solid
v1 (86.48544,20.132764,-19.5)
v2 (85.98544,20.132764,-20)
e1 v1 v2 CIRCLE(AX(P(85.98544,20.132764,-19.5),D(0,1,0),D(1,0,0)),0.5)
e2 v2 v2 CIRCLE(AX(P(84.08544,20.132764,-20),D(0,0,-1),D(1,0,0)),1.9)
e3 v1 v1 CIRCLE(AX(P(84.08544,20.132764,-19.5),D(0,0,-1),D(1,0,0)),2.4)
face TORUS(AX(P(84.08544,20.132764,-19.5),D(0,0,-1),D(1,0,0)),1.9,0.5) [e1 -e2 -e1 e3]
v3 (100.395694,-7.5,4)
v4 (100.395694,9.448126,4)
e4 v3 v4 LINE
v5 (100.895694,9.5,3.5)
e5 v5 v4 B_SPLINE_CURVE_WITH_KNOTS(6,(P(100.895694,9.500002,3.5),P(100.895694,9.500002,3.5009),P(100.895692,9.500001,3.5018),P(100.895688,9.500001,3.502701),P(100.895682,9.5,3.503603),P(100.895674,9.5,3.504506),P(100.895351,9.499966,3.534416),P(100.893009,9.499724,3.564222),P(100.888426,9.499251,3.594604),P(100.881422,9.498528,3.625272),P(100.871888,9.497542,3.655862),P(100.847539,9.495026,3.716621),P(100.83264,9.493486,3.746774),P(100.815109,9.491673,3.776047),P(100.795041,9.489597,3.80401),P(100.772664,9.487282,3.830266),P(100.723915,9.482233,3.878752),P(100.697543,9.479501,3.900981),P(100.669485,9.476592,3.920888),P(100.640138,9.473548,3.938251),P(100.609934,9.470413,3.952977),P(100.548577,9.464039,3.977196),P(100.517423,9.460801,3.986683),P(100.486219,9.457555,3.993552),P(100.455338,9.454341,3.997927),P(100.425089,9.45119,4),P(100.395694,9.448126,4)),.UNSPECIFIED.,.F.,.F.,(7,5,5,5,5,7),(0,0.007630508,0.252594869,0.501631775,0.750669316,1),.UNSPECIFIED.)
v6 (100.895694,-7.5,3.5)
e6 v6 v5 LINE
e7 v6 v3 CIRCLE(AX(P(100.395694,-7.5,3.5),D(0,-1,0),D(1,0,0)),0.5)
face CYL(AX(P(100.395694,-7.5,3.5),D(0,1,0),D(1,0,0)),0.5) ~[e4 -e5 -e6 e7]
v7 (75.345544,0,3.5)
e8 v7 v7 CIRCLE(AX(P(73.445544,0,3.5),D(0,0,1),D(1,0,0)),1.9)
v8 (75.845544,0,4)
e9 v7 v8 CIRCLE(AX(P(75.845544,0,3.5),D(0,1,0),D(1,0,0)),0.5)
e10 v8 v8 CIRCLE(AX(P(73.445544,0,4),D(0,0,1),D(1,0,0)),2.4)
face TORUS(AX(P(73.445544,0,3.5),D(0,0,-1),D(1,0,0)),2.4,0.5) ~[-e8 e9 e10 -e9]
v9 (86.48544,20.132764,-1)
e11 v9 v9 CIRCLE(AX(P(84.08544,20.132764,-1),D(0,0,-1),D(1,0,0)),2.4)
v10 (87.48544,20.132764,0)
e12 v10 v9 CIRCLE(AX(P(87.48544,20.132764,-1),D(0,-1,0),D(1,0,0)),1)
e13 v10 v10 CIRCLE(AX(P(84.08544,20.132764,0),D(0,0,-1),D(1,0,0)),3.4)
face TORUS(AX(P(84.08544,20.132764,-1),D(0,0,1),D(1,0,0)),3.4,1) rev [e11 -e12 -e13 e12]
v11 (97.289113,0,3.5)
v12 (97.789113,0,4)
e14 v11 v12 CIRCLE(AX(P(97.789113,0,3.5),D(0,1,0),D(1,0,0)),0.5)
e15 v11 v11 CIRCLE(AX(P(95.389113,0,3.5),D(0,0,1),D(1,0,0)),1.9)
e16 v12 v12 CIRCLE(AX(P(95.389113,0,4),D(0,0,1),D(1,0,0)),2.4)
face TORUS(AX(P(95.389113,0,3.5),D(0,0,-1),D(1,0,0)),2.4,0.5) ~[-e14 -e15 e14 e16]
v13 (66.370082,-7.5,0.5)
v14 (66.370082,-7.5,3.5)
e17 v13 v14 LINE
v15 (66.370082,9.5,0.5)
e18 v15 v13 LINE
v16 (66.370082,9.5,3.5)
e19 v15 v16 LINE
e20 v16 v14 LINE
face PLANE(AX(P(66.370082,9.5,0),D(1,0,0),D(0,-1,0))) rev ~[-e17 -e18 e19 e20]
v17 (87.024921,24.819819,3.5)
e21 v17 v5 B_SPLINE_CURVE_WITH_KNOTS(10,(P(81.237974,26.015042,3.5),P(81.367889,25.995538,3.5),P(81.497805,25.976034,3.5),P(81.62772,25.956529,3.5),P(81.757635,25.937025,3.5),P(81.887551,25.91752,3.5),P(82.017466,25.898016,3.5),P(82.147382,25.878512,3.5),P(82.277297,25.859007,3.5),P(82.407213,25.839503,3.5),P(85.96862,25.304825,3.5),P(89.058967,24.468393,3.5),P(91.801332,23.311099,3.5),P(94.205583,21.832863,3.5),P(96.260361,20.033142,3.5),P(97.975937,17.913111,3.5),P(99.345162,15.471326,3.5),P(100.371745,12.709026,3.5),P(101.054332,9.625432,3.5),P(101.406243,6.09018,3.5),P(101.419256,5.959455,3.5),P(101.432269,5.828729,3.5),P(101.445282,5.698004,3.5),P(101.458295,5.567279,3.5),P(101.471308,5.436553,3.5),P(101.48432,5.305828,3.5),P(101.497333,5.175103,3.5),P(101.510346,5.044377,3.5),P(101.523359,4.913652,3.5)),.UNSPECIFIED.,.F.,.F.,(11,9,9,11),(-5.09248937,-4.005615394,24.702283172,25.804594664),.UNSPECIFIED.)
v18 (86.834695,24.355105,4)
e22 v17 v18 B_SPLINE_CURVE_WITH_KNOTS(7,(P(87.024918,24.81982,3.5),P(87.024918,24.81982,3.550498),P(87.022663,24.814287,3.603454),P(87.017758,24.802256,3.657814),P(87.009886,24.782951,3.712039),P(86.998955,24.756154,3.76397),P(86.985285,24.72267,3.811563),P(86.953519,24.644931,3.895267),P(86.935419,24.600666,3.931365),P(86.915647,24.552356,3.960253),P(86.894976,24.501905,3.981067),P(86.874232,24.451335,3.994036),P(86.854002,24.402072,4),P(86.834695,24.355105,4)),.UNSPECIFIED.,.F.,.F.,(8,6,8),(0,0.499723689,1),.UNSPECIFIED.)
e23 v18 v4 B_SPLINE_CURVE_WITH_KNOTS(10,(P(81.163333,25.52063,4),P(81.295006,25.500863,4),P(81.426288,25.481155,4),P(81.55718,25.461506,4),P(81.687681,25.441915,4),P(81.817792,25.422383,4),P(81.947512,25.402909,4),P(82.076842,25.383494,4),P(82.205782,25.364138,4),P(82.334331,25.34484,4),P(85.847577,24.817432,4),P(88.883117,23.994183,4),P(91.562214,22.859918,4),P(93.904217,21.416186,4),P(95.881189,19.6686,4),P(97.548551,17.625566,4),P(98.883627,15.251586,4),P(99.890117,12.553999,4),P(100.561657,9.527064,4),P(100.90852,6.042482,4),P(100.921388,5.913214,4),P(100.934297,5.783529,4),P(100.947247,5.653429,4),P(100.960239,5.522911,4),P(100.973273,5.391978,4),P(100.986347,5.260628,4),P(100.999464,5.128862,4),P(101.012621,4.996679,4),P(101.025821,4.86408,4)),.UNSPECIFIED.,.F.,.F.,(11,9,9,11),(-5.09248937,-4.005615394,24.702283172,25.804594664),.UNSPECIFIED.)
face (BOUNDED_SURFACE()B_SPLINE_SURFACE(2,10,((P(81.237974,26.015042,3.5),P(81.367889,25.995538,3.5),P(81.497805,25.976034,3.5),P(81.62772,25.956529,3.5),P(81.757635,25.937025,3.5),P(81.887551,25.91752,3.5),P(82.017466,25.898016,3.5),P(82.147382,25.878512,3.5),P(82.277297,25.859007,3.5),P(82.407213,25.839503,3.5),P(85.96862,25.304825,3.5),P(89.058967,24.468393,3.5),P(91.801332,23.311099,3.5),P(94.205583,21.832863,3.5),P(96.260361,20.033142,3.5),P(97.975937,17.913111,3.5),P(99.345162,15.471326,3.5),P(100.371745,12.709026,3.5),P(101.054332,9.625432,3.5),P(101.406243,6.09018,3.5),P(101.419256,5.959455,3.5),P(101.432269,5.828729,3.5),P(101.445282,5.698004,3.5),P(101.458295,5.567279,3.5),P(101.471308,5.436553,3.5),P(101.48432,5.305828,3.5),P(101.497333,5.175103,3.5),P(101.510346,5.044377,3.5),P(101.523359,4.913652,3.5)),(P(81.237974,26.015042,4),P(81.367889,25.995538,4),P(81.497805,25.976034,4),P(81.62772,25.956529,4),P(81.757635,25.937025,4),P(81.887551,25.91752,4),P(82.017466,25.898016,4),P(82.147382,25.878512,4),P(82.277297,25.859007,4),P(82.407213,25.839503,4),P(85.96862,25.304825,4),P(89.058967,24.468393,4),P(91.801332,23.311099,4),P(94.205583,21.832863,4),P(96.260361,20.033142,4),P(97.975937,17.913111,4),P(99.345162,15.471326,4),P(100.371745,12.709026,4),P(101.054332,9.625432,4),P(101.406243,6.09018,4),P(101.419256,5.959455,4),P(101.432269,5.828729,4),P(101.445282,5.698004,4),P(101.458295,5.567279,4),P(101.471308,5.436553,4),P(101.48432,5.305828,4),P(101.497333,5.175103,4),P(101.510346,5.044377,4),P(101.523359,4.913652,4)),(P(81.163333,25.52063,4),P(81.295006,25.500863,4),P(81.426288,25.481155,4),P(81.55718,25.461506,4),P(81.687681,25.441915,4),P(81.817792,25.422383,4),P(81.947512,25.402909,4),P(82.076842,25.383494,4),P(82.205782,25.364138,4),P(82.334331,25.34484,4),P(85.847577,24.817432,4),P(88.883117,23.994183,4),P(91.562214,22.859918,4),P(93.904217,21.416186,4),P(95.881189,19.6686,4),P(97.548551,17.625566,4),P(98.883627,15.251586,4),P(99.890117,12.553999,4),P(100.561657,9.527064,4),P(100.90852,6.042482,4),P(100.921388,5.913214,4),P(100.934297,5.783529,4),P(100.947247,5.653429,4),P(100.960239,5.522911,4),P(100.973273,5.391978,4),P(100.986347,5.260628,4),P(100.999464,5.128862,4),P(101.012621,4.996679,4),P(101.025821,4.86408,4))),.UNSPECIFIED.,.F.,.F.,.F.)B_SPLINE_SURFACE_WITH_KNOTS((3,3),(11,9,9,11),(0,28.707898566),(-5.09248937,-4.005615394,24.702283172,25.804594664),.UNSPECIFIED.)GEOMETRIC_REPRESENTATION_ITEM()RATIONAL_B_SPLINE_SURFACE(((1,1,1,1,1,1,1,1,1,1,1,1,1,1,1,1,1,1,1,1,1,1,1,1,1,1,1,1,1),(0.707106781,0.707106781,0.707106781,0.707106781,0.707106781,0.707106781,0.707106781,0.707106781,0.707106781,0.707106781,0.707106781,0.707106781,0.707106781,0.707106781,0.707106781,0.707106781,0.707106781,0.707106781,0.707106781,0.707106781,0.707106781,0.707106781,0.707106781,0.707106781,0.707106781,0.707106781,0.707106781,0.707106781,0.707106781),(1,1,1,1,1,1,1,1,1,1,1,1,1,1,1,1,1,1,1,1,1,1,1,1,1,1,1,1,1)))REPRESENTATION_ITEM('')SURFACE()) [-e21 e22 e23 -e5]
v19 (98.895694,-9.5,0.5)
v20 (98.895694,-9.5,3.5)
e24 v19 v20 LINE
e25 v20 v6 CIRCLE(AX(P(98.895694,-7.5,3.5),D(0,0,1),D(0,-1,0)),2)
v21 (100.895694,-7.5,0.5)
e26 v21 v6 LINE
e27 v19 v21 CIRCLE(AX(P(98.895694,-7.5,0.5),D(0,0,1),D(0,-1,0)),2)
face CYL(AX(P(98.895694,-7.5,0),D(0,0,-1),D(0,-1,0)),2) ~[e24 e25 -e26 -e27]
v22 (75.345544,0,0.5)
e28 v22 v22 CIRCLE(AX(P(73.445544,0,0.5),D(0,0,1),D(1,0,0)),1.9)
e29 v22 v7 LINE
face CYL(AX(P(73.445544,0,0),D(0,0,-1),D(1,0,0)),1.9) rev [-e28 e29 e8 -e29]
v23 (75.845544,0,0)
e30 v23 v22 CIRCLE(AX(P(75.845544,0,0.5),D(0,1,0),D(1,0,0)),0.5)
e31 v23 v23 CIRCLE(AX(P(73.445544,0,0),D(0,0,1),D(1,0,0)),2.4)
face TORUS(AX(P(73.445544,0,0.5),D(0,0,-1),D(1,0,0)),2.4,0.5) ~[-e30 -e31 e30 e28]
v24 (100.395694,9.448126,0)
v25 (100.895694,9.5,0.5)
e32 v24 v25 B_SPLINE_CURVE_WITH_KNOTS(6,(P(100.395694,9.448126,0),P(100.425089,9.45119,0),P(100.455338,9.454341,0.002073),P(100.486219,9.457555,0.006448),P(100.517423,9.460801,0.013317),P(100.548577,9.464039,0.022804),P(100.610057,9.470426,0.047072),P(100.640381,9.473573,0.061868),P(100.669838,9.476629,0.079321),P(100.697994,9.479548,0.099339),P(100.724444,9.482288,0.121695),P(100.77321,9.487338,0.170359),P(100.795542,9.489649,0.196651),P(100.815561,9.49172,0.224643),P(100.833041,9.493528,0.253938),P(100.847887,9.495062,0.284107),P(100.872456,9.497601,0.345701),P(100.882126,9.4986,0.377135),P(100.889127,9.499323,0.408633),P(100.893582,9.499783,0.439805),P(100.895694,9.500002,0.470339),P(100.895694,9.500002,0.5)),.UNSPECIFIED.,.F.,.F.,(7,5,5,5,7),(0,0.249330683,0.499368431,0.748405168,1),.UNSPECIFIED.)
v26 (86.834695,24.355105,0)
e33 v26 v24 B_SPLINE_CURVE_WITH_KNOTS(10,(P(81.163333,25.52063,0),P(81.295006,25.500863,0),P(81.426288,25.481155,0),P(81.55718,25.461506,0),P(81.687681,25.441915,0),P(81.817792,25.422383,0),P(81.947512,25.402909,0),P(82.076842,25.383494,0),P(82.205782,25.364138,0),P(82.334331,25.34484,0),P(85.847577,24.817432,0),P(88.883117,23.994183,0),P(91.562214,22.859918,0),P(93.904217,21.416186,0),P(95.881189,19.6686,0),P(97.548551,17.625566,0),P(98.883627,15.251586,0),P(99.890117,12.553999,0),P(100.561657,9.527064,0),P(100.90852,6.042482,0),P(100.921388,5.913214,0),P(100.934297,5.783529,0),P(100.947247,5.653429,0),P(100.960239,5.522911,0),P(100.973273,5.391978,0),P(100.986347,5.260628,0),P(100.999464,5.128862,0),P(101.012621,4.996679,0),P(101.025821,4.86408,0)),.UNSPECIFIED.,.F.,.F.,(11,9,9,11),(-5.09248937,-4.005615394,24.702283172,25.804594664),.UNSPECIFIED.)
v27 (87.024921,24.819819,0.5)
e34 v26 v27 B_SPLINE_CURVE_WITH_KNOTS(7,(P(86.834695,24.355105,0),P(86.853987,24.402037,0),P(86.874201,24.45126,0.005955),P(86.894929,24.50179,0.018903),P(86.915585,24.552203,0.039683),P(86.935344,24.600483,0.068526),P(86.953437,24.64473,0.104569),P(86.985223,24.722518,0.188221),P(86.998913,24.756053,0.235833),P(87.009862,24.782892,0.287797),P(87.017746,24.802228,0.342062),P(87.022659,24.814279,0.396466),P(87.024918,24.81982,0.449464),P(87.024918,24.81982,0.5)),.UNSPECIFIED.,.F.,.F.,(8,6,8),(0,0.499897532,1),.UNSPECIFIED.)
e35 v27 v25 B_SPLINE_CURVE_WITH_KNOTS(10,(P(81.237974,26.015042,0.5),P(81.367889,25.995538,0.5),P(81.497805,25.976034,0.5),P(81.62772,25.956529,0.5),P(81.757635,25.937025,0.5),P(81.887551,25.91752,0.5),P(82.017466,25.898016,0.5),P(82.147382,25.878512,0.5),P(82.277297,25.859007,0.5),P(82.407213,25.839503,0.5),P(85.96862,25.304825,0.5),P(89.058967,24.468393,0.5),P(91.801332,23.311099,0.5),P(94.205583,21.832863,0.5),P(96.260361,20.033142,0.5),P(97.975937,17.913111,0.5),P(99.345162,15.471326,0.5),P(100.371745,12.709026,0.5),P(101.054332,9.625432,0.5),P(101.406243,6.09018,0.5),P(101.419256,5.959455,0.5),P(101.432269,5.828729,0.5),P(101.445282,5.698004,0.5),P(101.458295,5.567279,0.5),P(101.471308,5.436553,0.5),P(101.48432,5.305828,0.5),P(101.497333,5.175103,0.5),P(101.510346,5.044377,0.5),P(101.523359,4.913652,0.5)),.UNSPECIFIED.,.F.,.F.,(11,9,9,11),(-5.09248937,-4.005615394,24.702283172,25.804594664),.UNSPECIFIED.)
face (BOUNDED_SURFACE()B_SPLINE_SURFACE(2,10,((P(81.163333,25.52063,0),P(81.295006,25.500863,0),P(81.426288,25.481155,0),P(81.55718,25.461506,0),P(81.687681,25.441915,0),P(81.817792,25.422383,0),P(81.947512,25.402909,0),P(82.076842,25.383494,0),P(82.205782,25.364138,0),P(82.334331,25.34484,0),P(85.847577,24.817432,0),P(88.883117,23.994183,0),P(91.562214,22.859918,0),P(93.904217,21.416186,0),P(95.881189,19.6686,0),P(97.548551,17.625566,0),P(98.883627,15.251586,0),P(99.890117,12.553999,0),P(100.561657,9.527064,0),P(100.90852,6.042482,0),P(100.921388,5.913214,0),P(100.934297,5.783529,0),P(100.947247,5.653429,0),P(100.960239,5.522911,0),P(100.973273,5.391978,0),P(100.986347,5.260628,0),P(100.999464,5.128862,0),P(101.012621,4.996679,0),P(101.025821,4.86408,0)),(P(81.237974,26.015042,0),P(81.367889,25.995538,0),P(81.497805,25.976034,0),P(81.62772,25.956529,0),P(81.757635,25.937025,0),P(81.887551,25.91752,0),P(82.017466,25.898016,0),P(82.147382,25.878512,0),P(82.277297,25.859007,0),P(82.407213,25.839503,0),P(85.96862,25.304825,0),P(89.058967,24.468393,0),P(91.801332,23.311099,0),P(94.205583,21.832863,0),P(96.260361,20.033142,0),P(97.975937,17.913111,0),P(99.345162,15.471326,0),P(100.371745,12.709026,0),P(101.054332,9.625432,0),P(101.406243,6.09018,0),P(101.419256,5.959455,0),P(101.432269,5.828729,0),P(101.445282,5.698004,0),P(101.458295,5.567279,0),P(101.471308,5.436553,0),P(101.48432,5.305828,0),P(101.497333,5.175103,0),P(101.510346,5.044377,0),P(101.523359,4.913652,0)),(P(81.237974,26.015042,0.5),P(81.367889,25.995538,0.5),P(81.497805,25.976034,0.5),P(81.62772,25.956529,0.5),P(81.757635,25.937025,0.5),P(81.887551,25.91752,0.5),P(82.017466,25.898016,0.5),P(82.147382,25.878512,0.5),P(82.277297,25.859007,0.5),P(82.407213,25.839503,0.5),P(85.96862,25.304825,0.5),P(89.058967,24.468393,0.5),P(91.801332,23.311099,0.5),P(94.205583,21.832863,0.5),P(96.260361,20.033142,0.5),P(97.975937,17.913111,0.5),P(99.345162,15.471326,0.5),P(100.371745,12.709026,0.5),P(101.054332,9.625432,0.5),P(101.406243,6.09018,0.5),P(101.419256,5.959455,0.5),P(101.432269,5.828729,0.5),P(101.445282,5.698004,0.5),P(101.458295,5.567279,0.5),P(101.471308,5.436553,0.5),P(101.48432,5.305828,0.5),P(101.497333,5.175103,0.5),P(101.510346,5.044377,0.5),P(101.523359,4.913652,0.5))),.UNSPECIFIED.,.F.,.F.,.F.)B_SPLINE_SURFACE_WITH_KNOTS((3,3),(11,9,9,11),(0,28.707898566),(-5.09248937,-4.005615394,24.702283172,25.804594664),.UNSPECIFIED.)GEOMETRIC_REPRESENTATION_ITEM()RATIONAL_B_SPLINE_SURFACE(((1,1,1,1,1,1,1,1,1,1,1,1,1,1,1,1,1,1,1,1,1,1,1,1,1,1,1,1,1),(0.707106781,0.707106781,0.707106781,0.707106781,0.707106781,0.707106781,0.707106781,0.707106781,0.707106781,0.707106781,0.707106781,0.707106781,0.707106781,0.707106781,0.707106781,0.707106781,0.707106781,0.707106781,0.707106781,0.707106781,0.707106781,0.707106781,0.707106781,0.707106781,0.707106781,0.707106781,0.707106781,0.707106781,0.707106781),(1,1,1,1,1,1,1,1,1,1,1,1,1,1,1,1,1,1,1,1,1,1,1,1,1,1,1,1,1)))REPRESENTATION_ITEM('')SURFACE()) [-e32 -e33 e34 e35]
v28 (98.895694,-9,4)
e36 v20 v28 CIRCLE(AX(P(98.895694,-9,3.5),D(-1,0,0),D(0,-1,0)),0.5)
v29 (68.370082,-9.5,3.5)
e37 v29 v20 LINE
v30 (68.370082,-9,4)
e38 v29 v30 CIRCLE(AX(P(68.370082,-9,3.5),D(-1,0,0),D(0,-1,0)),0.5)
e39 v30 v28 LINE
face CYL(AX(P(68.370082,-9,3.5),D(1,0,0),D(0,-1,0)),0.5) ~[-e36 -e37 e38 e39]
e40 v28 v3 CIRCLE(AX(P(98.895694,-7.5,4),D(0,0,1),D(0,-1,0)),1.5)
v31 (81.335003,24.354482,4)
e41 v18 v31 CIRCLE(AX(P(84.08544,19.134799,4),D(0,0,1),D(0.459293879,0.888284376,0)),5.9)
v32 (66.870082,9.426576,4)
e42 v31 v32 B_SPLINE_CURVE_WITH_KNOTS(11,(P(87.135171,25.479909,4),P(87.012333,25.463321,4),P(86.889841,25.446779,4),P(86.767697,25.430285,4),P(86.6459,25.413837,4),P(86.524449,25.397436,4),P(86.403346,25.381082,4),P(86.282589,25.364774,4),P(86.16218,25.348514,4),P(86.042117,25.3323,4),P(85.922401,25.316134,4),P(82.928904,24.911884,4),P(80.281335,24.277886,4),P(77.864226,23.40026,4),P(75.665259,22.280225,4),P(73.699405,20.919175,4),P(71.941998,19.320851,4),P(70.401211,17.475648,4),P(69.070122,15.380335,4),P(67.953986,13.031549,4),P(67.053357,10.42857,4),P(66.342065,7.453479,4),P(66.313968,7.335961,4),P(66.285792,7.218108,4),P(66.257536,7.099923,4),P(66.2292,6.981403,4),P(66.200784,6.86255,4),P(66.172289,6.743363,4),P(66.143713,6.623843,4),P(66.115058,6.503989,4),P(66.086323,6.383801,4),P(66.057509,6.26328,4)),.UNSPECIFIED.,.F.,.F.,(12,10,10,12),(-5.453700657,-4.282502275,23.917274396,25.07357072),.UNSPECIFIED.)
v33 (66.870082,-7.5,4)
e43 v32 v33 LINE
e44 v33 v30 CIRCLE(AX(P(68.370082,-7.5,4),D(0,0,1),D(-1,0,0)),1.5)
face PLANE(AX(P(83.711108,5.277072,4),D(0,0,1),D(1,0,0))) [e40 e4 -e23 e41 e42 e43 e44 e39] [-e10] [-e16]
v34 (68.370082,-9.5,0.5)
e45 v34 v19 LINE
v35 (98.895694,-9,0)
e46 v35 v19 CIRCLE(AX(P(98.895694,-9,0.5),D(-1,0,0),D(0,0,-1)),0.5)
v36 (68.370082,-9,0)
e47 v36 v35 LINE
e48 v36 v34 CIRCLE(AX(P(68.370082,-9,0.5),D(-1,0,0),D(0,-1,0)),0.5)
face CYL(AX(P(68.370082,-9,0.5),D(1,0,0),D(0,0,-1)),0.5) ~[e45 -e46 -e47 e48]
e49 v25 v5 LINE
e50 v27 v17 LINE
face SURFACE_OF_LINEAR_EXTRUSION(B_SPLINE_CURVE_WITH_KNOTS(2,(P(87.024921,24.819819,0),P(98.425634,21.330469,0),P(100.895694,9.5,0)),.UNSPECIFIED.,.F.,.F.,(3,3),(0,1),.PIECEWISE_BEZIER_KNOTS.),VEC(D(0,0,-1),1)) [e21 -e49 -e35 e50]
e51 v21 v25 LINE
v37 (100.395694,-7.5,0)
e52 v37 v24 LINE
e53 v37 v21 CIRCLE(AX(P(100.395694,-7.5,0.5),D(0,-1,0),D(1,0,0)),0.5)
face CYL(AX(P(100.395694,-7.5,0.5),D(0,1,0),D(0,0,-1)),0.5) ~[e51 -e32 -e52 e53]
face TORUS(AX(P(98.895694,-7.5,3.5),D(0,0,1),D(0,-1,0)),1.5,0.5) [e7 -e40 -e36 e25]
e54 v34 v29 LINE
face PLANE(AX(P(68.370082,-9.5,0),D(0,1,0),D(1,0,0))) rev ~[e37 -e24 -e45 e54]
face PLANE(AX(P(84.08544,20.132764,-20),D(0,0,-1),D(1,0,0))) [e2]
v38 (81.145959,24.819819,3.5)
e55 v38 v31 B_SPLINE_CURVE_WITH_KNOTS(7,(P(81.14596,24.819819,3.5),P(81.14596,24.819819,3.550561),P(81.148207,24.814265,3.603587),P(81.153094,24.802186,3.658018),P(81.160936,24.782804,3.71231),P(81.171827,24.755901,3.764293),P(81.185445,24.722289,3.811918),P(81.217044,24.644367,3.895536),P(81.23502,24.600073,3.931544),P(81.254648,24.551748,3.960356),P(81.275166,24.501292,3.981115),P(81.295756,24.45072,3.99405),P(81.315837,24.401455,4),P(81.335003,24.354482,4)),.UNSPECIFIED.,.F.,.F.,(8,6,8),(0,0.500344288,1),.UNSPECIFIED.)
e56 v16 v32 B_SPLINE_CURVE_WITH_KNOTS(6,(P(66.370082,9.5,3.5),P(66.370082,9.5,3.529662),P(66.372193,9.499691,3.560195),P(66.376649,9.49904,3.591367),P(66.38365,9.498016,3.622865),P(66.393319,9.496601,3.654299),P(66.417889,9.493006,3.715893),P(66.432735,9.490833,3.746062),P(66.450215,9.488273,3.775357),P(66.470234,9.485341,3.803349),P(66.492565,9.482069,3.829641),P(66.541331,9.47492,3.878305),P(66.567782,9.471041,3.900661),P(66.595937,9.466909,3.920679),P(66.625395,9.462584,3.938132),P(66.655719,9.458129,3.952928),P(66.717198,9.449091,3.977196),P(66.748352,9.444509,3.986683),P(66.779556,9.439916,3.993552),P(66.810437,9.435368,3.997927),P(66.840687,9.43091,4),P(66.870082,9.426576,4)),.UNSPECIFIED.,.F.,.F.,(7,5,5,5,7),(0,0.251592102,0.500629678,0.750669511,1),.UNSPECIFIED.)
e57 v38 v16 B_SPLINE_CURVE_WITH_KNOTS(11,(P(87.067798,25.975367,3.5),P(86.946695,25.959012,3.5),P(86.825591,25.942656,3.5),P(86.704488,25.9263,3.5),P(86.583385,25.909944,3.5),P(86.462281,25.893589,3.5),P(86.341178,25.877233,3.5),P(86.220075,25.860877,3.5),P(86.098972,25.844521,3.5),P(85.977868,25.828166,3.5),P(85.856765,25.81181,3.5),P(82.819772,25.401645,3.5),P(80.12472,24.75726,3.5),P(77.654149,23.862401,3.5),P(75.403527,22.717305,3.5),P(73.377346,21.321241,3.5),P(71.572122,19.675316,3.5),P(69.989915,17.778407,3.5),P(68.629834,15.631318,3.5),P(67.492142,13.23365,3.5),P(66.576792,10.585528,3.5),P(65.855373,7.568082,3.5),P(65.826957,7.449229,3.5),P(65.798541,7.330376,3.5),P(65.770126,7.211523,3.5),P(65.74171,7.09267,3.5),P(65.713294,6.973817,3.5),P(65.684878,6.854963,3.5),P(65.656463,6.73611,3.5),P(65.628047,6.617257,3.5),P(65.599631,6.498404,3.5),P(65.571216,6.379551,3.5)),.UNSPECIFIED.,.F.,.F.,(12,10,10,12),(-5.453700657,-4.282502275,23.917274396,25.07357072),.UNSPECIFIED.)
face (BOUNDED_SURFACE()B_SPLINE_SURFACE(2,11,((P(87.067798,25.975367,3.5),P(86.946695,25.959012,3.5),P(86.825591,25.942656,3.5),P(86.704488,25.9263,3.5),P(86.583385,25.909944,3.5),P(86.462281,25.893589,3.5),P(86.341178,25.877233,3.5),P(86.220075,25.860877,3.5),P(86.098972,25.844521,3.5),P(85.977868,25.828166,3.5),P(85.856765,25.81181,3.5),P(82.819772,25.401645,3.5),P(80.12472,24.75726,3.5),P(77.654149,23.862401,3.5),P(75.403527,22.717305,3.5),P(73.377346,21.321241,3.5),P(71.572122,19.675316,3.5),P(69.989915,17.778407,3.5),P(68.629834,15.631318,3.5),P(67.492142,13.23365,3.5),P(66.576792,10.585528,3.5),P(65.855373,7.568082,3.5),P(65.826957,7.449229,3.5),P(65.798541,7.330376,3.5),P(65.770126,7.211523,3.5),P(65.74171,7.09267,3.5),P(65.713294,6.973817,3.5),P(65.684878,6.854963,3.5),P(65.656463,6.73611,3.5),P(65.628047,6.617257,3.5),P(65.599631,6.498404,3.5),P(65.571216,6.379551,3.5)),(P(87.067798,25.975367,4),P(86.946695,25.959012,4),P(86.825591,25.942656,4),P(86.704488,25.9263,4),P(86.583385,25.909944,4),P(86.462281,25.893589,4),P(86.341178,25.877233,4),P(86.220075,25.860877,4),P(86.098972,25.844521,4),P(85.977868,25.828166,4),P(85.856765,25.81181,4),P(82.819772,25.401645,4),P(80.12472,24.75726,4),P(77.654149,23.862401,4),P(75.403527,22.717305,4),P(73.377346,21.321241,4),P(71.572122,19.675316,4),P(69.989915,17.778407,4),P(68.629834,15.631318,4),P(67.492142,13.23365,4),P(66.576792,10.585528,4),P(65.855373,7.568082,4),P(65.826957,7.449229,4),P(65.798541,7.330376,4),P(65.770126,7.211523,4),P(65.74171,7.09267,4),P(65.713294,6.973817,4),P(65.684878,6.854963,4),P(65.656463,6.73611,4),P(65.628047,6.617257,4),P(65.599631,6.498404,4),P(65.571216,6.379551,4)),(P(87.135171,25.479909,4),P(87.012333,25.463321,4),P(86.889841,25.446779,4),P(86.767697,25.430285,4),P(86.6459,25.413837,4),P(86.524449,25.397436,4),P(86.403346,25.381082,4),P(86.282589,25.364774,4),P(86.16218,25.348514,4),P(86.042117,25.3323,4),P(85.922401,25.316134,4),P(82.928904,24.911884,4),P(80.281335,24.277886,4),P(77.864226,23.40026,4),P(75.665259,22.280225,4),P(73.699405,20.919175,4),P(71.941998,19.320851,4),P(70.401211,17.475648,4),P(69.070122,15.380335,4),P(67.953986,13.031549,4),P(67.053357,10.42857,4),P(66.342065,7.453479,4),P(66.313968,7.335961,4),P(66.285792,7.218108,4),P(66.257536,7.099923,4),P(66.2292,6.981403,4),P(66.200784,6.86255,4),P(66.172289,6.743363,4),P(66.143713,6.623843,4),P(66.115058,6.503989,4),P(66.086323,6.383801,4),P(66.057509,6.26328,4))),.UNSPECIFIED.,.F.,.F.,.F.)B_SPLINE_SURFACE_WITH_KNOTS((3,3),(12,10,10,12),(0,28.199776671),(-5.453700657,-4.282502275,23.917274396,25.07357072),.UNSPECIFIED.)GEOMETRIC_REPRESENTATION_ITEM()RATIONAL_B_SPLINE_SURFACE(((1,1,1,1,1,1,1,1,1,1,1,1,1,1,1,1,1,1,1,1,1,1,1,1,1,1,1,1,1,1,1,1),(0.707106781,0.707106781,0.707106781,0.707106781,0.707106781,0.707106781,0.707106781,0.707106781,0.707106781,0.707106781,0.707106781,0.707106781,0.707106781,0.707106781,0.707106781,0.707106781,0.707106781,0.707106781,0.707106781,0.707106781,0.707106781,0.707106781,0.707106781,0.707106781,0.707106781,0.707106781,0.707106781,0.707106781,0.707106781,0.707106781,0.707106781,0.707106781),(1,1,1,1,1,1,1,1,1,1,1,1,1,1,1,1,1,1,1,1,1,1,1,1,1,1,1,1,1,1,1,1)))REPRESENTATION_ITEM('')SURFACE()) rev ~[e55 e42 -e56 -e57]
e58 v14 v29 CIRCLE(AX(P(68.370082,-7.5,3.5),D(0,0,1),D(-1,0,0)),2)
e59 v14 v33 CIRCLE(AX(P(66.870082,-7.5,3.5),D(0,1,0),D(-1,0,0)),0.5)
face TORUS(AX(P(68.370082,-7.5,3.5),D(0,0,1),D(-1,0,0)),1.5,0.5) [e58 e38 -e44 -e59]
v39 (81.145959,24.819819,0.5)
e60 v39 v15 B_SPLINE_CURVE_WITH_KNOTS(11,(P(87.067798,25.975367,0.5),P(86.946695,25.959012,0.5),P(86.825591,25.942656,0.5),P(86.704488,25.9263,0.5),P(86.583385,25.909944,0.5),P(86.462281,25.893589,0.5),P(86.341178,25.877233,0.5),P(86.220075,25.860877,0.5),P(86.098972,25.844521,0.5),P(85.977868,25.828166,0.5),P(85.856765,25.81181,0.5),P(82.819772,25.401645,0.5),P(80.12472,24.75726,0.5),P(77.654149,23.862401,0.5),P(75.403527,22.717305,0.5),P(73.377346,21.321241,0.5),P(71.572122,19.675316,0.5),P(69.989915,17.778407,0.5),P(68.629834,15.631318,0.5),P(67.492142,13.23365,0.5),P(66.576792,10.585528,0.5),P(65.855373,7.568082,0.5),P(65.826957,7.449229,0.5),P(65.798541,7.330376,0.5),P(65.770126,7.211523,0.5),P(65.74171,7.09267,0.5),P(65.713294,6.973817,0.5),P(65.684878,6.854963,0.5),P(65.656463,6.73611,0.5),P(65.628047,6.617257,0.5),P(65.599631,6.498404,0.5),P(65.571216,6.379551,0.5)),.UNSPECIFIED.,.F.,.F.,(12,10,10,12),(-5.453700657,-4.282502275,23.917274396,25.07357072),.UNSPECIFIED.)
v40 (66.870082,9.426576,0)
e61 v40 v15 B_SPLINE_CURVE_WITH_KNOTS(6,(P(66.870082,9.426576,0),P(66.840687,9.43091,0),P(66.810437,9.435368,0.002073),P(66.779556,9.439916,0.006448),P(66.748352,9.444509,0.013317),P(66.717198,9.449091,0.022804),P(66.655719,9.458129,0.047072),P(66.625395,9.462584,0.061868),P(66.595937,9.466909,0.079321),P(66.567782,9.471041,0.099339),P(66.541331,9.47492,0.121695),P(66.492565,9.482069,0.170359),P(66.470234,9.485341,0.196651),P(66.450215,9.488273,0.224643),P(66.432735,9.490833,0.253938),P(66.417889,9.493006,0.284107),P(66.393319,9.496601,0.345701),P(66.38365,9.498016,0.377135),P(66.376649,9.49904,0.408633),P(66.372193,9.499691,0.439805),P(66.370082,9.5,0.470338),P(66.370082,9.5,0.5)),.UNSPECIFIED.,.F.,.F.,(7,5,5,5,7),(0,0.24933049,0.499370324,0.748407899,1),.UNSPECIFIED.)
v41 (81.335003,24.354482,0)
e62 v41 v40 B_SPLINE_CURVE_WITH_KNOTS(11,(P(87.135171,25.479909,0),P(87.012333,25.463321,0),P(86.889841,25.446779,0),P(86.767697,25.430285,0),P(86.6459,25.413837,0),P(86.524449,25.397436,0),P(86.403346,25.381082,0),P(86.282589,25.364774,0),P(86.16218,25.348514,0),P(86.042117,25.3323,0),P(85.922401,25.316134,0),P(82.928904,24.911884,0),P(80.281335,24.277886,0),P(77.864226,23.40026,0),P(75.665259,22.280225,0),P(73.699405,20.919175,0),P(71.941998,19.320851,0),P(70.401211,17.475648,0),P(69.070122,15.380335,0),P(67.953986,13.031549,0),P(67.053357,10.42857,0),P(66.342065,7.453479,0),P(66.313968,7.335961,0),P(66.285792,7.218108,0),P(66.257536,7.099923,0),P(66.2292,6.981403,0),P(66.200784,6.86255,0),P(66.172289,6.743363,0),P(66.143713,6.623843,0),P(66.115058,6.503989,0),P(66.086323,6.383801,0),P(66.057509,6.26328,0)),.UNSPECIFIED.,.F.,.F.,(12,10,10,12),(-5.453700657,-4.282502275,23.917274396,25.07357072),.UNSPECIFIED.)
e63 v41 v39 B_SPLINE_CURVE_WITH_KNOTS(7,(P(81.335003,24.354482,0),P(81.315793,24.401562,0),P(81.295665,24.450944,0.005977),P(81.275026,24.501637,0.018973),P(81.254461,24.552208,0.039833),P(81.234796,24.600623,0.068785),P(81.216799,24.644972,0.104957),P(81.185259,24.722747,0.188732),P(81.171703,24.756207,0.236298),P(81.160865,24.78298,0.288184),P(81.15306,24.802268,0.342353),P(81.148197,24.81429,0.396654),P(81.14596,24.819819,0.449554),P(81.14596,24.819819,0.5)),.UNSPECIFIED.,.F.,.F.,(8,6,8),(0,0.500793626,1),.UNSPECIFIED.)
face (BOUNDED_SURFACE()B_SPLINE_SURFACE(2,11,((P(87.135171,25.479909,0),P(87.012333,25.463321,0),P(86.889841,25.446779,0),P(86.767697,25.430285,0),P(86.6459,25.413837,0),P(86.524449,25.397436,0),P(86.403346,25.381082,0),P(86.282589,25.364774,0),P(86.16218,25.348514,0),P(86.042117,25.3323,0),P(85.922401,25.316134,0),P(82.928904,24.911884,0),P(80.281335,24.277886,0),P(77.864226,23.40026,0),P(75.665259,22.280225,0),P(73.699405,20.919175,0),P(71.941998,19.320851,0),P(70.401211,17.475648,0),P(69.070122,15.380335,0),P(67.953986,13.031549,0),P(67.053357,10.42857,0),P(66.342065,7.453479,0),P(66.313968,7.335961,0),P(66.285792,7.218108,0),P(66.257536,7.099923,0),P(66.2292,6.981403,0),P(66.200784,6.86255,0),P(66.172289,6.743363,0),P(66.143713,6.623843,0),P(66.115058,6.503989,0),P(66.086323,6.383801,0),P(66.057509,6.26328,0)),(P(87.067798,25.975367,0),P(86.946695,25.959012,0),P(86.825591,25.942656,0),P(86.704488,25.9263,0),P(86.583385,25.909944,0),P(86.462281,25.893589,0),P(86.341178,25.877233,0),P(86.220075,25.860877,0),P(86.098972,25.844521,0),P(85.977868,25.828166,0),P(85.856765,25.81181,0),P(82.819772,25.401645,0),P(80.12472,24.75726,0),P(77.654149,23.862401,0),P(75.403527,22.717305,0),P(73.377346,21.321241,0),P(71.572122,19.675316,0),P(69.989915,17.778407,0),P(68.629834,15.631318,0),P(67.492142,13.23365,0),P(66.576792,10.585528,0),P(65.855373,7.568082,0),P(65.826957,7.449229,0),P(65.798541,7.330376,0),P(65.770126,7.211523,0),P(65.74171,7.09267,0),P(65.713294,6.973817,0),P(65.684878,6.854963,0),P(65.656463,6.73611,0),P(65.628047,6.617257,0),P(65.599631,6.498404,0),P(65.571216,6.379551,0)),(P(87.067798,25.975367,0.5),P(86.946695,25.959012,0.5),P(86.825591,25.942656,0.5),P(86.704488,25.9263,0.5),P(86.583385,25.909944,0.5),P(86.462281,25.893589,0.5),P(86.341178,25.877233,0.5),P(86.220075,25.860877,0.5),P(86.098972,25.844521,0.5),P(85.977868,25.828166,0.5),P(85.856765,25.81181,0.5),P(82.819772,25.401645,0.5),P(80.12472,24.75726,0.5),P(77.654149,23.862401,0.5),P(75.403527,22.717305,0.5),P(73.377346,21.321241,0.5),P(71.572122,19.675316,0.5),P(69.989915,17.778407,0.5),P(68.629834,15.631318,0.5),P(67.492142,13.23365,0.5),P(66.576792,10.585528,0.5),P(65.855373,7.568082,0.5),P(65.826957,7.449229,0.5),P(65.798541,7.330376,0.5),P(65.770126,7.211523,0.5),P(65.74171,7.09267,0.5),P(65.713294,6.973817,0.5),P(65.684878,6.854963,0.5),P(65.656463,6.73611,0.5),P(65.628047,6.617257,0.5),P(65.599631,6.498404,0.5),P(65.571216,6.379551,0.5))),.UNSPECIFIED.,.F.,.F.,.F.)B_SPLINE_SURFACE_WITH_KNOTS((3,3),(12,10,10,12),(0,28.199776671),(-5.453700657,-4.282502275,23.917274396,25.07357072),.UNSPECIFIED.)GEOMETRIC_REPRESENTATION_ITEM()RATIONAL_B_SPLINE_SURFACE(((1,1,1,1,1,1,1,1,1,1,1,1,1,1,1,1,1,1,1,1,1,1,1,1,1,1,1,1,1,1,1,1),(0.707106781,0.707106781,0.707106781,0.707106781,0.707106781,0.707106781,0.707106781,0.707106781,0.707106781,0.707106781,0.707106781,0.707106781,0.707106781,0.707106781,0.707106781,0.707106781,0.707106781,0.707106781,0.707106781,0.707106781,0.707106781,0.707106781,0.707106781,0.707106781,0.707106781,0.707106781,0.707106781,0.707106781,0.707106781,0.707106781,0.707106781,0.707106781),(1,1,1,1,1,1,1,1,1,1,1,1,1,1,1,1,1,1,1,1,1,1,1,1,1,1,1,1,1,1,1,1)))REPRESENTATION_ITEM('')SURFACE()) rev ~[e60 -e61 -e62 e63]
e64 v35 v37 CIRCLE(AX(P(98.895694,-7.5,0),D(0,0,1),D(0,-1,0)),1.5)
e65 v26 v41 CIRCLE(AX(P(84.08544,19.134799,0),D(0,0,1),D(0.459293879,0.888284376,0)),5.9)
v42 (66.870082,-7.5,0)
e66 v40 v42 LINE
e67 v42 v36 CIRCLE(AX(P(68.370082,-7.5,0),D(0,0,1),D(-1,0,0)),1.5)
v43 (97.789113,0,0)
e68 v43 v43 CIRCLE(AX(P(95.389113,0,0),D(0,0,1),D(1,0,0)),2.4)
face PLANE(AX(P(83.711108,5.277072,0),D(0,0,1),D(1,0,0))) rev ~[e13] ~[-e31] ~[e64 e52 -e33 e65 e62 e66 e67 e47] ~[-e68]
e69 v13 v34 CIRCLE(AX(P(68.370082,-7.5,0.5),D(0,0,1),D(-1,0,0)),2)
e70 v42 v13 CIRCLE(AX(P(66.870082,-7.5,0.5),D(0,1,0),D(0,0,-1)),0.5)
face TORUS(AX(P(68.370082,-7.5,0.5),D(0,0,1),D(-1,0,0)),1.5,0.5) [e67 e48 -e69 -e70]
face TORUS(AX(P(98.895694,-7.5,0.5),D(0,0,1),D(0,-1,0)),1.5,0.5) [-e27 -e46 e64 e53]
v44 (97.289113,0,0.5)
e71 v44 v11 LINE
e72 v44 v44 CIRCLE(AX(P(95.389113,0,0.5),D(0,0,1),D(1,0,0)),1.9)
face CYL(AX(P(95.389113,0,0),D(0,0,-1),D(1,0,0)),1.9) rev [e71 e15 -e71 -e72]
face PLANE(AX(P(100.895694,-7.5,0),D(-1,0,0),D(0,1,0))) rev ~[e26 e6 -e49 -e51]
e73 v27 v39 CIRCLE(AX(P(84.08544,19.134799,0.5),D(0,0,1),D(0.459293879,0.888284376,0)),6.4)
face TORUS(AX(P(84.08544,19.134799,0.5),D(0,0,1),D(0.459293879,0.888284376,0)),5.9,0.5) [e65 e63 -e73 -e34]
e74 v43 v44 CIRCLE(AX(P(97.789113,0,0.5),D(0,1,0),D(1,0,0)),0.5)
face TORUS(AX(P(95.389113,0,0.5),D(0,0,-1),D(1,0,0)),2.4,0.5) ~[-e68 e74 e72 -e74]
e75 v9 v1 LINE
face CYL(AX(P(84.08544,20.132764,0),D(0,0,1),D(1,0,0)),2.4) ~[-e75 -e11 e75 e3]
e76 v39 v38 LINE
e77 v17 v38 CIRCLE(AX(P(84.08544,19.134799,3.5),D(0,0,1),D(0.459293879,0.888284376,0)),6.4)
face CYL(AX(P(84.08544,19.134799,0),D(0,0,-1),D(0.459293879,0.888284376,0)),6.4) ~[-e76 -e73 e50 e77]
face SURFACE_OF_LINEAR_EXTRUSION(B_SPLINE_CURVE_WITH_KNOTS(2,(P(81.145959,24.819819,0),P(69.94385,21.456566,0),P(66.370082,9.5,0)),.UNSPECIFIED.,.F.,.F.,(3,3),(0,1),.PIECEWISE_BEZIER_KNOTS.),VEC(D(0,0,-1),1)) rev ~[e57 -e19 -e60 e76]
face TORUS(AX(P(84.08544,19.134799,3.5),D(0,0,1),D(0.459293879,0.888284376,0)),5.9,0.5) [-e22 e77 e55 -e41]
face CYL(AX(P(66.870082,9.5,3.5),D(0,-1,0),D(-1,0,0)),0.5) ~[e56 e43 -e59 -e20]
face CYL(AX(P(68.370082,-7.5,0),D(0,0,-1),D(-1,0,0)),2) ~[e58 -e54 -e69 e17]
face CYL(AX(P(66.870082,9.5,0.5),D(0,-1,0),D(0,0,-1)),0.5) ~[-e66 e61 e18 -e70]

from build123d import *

# Parameters (mm, degrees)
SKETCH1_R           = 1.9
BOSS_EXTRUDE1_DEPTH = 4
SKETCH2_R           = 2.4
BOSS_EXTRUDE2_DEPTH = 20
FILLET1_R           = 1
FILLET2_R           = 0.5
FILLET3_R           = 0.5


with BuildPart() as part:
    # Sketch1 → Boss-Extrude1 (new body)
    with BuildSketch(Plane.XY):
        with BuildLine():
            Line((66.370081612, 9.5), (66.370081612, -7.5))
            ThreePointArc((66.370081612, -7.5), (66.955868049, -8.914213562), (68.370081612, -9.5))
            Line((68.370081612, -9.5), (98.895693861, -9.5))
            ThreePointArc((98.895693861, -9.5), (100.309907424, -8.914213562), (100.895693861, -7.5))
            Line((100.895693861, -7.5), (100.895693861, 9.5))
            add(Edge.make_bspline(
                [(87.024920825, 24.819818705), (98.425633532, 21.330469264), (100.895693861, 9.5)],
                knots=[0, 0, 0, 1, 1, 1], degree=2))
            ThreePointArc((87.024920825, 24.819818705), (84.08544, 25.534798698), (81.145959175, 24.819818705))
            add(Edge.make_bspline(
                [(81.145959175, 24.819818705), (69.943850381, 21.456565506), (66.370081612, 9.5)],
                knots=[0, 0, 0, 1, 1, 1], degree=2))
        make_face()
        with Locations((73.445544057, 0)):
            Circle(SKETCH1_R, mode=Mode.SUBTRACT)
        with Locations((95.389113249, 0)):
            Circle(SKETCH1_R, mode=Mode.SUBTRACT)
    extrude(amount=BOSS_EXTRUDE1_DEPTH)

    # Sketch2 → Boss-Extrude2 (add)
    with BuildSketch(Plane(origin=(0, 0, 0), x_dir=(-1, 0, 0), z_dir=(0, 0, -1))):
        with Locations(Location((-84.08544, 20.132764283, 0), (0, 0, 180))):
            Circle(SKETCH2_R)
    extrude(amount=BOSS_EXTRUDE2_DEPTH)

    # Fillet1
    fillet1_edges = [part.edges().sort_by_distance(p)[0] for p in [
        (81.68544, 20.132764283, 0),
    ]]
    fillet(fillet1_edges, radius=FILLET1_R)

    # Fillet2
    fillet2_edges = [part.edges().sort_by_distance(p)[0] for p in [
        (81.68544, 20.132764283, -20),
    ]]
    fillet(fillet2_edges, radius=FILLET2_R)

    # Fillet3
    fillet3_edges = [part.edges().sort_by_distance(p)[0] for p in [
        (66.370081612, 1, 0),
        (71.707163977, 19.157595114, 0),
        (84.08544, 25.534798698, 0),
        (96.222295901, 19.212718692, 0),
        (71.707163977, 19.157595114, 4),
        (66.370081612, 1, 4),
        (66.955868049, -8.914213562, 4),
        (93.489113249, 0, 0),
        (93.489113249, 0, 4),
        (83.632887737, -9.5, 4),
        (71.545544057, 0, 0),
        (71.545544057, 0, 4),
        (100.309907424, -8.914213562, 4),
        (100.895693861, 1, 4),
        (96.222295901, 19.212718692, 4),
        (100.895693861, 1, 0),
        (84.08544, 25.534798698, 4),
        (100.309907424, -8.914213562, 0),
        (83.632887737, -9.5, 0),
        (66.955868049, -8.914213562, 0),
    ]]
    fillet(fillet3_edges, radius=FILLET3_R)


solid = part.part
